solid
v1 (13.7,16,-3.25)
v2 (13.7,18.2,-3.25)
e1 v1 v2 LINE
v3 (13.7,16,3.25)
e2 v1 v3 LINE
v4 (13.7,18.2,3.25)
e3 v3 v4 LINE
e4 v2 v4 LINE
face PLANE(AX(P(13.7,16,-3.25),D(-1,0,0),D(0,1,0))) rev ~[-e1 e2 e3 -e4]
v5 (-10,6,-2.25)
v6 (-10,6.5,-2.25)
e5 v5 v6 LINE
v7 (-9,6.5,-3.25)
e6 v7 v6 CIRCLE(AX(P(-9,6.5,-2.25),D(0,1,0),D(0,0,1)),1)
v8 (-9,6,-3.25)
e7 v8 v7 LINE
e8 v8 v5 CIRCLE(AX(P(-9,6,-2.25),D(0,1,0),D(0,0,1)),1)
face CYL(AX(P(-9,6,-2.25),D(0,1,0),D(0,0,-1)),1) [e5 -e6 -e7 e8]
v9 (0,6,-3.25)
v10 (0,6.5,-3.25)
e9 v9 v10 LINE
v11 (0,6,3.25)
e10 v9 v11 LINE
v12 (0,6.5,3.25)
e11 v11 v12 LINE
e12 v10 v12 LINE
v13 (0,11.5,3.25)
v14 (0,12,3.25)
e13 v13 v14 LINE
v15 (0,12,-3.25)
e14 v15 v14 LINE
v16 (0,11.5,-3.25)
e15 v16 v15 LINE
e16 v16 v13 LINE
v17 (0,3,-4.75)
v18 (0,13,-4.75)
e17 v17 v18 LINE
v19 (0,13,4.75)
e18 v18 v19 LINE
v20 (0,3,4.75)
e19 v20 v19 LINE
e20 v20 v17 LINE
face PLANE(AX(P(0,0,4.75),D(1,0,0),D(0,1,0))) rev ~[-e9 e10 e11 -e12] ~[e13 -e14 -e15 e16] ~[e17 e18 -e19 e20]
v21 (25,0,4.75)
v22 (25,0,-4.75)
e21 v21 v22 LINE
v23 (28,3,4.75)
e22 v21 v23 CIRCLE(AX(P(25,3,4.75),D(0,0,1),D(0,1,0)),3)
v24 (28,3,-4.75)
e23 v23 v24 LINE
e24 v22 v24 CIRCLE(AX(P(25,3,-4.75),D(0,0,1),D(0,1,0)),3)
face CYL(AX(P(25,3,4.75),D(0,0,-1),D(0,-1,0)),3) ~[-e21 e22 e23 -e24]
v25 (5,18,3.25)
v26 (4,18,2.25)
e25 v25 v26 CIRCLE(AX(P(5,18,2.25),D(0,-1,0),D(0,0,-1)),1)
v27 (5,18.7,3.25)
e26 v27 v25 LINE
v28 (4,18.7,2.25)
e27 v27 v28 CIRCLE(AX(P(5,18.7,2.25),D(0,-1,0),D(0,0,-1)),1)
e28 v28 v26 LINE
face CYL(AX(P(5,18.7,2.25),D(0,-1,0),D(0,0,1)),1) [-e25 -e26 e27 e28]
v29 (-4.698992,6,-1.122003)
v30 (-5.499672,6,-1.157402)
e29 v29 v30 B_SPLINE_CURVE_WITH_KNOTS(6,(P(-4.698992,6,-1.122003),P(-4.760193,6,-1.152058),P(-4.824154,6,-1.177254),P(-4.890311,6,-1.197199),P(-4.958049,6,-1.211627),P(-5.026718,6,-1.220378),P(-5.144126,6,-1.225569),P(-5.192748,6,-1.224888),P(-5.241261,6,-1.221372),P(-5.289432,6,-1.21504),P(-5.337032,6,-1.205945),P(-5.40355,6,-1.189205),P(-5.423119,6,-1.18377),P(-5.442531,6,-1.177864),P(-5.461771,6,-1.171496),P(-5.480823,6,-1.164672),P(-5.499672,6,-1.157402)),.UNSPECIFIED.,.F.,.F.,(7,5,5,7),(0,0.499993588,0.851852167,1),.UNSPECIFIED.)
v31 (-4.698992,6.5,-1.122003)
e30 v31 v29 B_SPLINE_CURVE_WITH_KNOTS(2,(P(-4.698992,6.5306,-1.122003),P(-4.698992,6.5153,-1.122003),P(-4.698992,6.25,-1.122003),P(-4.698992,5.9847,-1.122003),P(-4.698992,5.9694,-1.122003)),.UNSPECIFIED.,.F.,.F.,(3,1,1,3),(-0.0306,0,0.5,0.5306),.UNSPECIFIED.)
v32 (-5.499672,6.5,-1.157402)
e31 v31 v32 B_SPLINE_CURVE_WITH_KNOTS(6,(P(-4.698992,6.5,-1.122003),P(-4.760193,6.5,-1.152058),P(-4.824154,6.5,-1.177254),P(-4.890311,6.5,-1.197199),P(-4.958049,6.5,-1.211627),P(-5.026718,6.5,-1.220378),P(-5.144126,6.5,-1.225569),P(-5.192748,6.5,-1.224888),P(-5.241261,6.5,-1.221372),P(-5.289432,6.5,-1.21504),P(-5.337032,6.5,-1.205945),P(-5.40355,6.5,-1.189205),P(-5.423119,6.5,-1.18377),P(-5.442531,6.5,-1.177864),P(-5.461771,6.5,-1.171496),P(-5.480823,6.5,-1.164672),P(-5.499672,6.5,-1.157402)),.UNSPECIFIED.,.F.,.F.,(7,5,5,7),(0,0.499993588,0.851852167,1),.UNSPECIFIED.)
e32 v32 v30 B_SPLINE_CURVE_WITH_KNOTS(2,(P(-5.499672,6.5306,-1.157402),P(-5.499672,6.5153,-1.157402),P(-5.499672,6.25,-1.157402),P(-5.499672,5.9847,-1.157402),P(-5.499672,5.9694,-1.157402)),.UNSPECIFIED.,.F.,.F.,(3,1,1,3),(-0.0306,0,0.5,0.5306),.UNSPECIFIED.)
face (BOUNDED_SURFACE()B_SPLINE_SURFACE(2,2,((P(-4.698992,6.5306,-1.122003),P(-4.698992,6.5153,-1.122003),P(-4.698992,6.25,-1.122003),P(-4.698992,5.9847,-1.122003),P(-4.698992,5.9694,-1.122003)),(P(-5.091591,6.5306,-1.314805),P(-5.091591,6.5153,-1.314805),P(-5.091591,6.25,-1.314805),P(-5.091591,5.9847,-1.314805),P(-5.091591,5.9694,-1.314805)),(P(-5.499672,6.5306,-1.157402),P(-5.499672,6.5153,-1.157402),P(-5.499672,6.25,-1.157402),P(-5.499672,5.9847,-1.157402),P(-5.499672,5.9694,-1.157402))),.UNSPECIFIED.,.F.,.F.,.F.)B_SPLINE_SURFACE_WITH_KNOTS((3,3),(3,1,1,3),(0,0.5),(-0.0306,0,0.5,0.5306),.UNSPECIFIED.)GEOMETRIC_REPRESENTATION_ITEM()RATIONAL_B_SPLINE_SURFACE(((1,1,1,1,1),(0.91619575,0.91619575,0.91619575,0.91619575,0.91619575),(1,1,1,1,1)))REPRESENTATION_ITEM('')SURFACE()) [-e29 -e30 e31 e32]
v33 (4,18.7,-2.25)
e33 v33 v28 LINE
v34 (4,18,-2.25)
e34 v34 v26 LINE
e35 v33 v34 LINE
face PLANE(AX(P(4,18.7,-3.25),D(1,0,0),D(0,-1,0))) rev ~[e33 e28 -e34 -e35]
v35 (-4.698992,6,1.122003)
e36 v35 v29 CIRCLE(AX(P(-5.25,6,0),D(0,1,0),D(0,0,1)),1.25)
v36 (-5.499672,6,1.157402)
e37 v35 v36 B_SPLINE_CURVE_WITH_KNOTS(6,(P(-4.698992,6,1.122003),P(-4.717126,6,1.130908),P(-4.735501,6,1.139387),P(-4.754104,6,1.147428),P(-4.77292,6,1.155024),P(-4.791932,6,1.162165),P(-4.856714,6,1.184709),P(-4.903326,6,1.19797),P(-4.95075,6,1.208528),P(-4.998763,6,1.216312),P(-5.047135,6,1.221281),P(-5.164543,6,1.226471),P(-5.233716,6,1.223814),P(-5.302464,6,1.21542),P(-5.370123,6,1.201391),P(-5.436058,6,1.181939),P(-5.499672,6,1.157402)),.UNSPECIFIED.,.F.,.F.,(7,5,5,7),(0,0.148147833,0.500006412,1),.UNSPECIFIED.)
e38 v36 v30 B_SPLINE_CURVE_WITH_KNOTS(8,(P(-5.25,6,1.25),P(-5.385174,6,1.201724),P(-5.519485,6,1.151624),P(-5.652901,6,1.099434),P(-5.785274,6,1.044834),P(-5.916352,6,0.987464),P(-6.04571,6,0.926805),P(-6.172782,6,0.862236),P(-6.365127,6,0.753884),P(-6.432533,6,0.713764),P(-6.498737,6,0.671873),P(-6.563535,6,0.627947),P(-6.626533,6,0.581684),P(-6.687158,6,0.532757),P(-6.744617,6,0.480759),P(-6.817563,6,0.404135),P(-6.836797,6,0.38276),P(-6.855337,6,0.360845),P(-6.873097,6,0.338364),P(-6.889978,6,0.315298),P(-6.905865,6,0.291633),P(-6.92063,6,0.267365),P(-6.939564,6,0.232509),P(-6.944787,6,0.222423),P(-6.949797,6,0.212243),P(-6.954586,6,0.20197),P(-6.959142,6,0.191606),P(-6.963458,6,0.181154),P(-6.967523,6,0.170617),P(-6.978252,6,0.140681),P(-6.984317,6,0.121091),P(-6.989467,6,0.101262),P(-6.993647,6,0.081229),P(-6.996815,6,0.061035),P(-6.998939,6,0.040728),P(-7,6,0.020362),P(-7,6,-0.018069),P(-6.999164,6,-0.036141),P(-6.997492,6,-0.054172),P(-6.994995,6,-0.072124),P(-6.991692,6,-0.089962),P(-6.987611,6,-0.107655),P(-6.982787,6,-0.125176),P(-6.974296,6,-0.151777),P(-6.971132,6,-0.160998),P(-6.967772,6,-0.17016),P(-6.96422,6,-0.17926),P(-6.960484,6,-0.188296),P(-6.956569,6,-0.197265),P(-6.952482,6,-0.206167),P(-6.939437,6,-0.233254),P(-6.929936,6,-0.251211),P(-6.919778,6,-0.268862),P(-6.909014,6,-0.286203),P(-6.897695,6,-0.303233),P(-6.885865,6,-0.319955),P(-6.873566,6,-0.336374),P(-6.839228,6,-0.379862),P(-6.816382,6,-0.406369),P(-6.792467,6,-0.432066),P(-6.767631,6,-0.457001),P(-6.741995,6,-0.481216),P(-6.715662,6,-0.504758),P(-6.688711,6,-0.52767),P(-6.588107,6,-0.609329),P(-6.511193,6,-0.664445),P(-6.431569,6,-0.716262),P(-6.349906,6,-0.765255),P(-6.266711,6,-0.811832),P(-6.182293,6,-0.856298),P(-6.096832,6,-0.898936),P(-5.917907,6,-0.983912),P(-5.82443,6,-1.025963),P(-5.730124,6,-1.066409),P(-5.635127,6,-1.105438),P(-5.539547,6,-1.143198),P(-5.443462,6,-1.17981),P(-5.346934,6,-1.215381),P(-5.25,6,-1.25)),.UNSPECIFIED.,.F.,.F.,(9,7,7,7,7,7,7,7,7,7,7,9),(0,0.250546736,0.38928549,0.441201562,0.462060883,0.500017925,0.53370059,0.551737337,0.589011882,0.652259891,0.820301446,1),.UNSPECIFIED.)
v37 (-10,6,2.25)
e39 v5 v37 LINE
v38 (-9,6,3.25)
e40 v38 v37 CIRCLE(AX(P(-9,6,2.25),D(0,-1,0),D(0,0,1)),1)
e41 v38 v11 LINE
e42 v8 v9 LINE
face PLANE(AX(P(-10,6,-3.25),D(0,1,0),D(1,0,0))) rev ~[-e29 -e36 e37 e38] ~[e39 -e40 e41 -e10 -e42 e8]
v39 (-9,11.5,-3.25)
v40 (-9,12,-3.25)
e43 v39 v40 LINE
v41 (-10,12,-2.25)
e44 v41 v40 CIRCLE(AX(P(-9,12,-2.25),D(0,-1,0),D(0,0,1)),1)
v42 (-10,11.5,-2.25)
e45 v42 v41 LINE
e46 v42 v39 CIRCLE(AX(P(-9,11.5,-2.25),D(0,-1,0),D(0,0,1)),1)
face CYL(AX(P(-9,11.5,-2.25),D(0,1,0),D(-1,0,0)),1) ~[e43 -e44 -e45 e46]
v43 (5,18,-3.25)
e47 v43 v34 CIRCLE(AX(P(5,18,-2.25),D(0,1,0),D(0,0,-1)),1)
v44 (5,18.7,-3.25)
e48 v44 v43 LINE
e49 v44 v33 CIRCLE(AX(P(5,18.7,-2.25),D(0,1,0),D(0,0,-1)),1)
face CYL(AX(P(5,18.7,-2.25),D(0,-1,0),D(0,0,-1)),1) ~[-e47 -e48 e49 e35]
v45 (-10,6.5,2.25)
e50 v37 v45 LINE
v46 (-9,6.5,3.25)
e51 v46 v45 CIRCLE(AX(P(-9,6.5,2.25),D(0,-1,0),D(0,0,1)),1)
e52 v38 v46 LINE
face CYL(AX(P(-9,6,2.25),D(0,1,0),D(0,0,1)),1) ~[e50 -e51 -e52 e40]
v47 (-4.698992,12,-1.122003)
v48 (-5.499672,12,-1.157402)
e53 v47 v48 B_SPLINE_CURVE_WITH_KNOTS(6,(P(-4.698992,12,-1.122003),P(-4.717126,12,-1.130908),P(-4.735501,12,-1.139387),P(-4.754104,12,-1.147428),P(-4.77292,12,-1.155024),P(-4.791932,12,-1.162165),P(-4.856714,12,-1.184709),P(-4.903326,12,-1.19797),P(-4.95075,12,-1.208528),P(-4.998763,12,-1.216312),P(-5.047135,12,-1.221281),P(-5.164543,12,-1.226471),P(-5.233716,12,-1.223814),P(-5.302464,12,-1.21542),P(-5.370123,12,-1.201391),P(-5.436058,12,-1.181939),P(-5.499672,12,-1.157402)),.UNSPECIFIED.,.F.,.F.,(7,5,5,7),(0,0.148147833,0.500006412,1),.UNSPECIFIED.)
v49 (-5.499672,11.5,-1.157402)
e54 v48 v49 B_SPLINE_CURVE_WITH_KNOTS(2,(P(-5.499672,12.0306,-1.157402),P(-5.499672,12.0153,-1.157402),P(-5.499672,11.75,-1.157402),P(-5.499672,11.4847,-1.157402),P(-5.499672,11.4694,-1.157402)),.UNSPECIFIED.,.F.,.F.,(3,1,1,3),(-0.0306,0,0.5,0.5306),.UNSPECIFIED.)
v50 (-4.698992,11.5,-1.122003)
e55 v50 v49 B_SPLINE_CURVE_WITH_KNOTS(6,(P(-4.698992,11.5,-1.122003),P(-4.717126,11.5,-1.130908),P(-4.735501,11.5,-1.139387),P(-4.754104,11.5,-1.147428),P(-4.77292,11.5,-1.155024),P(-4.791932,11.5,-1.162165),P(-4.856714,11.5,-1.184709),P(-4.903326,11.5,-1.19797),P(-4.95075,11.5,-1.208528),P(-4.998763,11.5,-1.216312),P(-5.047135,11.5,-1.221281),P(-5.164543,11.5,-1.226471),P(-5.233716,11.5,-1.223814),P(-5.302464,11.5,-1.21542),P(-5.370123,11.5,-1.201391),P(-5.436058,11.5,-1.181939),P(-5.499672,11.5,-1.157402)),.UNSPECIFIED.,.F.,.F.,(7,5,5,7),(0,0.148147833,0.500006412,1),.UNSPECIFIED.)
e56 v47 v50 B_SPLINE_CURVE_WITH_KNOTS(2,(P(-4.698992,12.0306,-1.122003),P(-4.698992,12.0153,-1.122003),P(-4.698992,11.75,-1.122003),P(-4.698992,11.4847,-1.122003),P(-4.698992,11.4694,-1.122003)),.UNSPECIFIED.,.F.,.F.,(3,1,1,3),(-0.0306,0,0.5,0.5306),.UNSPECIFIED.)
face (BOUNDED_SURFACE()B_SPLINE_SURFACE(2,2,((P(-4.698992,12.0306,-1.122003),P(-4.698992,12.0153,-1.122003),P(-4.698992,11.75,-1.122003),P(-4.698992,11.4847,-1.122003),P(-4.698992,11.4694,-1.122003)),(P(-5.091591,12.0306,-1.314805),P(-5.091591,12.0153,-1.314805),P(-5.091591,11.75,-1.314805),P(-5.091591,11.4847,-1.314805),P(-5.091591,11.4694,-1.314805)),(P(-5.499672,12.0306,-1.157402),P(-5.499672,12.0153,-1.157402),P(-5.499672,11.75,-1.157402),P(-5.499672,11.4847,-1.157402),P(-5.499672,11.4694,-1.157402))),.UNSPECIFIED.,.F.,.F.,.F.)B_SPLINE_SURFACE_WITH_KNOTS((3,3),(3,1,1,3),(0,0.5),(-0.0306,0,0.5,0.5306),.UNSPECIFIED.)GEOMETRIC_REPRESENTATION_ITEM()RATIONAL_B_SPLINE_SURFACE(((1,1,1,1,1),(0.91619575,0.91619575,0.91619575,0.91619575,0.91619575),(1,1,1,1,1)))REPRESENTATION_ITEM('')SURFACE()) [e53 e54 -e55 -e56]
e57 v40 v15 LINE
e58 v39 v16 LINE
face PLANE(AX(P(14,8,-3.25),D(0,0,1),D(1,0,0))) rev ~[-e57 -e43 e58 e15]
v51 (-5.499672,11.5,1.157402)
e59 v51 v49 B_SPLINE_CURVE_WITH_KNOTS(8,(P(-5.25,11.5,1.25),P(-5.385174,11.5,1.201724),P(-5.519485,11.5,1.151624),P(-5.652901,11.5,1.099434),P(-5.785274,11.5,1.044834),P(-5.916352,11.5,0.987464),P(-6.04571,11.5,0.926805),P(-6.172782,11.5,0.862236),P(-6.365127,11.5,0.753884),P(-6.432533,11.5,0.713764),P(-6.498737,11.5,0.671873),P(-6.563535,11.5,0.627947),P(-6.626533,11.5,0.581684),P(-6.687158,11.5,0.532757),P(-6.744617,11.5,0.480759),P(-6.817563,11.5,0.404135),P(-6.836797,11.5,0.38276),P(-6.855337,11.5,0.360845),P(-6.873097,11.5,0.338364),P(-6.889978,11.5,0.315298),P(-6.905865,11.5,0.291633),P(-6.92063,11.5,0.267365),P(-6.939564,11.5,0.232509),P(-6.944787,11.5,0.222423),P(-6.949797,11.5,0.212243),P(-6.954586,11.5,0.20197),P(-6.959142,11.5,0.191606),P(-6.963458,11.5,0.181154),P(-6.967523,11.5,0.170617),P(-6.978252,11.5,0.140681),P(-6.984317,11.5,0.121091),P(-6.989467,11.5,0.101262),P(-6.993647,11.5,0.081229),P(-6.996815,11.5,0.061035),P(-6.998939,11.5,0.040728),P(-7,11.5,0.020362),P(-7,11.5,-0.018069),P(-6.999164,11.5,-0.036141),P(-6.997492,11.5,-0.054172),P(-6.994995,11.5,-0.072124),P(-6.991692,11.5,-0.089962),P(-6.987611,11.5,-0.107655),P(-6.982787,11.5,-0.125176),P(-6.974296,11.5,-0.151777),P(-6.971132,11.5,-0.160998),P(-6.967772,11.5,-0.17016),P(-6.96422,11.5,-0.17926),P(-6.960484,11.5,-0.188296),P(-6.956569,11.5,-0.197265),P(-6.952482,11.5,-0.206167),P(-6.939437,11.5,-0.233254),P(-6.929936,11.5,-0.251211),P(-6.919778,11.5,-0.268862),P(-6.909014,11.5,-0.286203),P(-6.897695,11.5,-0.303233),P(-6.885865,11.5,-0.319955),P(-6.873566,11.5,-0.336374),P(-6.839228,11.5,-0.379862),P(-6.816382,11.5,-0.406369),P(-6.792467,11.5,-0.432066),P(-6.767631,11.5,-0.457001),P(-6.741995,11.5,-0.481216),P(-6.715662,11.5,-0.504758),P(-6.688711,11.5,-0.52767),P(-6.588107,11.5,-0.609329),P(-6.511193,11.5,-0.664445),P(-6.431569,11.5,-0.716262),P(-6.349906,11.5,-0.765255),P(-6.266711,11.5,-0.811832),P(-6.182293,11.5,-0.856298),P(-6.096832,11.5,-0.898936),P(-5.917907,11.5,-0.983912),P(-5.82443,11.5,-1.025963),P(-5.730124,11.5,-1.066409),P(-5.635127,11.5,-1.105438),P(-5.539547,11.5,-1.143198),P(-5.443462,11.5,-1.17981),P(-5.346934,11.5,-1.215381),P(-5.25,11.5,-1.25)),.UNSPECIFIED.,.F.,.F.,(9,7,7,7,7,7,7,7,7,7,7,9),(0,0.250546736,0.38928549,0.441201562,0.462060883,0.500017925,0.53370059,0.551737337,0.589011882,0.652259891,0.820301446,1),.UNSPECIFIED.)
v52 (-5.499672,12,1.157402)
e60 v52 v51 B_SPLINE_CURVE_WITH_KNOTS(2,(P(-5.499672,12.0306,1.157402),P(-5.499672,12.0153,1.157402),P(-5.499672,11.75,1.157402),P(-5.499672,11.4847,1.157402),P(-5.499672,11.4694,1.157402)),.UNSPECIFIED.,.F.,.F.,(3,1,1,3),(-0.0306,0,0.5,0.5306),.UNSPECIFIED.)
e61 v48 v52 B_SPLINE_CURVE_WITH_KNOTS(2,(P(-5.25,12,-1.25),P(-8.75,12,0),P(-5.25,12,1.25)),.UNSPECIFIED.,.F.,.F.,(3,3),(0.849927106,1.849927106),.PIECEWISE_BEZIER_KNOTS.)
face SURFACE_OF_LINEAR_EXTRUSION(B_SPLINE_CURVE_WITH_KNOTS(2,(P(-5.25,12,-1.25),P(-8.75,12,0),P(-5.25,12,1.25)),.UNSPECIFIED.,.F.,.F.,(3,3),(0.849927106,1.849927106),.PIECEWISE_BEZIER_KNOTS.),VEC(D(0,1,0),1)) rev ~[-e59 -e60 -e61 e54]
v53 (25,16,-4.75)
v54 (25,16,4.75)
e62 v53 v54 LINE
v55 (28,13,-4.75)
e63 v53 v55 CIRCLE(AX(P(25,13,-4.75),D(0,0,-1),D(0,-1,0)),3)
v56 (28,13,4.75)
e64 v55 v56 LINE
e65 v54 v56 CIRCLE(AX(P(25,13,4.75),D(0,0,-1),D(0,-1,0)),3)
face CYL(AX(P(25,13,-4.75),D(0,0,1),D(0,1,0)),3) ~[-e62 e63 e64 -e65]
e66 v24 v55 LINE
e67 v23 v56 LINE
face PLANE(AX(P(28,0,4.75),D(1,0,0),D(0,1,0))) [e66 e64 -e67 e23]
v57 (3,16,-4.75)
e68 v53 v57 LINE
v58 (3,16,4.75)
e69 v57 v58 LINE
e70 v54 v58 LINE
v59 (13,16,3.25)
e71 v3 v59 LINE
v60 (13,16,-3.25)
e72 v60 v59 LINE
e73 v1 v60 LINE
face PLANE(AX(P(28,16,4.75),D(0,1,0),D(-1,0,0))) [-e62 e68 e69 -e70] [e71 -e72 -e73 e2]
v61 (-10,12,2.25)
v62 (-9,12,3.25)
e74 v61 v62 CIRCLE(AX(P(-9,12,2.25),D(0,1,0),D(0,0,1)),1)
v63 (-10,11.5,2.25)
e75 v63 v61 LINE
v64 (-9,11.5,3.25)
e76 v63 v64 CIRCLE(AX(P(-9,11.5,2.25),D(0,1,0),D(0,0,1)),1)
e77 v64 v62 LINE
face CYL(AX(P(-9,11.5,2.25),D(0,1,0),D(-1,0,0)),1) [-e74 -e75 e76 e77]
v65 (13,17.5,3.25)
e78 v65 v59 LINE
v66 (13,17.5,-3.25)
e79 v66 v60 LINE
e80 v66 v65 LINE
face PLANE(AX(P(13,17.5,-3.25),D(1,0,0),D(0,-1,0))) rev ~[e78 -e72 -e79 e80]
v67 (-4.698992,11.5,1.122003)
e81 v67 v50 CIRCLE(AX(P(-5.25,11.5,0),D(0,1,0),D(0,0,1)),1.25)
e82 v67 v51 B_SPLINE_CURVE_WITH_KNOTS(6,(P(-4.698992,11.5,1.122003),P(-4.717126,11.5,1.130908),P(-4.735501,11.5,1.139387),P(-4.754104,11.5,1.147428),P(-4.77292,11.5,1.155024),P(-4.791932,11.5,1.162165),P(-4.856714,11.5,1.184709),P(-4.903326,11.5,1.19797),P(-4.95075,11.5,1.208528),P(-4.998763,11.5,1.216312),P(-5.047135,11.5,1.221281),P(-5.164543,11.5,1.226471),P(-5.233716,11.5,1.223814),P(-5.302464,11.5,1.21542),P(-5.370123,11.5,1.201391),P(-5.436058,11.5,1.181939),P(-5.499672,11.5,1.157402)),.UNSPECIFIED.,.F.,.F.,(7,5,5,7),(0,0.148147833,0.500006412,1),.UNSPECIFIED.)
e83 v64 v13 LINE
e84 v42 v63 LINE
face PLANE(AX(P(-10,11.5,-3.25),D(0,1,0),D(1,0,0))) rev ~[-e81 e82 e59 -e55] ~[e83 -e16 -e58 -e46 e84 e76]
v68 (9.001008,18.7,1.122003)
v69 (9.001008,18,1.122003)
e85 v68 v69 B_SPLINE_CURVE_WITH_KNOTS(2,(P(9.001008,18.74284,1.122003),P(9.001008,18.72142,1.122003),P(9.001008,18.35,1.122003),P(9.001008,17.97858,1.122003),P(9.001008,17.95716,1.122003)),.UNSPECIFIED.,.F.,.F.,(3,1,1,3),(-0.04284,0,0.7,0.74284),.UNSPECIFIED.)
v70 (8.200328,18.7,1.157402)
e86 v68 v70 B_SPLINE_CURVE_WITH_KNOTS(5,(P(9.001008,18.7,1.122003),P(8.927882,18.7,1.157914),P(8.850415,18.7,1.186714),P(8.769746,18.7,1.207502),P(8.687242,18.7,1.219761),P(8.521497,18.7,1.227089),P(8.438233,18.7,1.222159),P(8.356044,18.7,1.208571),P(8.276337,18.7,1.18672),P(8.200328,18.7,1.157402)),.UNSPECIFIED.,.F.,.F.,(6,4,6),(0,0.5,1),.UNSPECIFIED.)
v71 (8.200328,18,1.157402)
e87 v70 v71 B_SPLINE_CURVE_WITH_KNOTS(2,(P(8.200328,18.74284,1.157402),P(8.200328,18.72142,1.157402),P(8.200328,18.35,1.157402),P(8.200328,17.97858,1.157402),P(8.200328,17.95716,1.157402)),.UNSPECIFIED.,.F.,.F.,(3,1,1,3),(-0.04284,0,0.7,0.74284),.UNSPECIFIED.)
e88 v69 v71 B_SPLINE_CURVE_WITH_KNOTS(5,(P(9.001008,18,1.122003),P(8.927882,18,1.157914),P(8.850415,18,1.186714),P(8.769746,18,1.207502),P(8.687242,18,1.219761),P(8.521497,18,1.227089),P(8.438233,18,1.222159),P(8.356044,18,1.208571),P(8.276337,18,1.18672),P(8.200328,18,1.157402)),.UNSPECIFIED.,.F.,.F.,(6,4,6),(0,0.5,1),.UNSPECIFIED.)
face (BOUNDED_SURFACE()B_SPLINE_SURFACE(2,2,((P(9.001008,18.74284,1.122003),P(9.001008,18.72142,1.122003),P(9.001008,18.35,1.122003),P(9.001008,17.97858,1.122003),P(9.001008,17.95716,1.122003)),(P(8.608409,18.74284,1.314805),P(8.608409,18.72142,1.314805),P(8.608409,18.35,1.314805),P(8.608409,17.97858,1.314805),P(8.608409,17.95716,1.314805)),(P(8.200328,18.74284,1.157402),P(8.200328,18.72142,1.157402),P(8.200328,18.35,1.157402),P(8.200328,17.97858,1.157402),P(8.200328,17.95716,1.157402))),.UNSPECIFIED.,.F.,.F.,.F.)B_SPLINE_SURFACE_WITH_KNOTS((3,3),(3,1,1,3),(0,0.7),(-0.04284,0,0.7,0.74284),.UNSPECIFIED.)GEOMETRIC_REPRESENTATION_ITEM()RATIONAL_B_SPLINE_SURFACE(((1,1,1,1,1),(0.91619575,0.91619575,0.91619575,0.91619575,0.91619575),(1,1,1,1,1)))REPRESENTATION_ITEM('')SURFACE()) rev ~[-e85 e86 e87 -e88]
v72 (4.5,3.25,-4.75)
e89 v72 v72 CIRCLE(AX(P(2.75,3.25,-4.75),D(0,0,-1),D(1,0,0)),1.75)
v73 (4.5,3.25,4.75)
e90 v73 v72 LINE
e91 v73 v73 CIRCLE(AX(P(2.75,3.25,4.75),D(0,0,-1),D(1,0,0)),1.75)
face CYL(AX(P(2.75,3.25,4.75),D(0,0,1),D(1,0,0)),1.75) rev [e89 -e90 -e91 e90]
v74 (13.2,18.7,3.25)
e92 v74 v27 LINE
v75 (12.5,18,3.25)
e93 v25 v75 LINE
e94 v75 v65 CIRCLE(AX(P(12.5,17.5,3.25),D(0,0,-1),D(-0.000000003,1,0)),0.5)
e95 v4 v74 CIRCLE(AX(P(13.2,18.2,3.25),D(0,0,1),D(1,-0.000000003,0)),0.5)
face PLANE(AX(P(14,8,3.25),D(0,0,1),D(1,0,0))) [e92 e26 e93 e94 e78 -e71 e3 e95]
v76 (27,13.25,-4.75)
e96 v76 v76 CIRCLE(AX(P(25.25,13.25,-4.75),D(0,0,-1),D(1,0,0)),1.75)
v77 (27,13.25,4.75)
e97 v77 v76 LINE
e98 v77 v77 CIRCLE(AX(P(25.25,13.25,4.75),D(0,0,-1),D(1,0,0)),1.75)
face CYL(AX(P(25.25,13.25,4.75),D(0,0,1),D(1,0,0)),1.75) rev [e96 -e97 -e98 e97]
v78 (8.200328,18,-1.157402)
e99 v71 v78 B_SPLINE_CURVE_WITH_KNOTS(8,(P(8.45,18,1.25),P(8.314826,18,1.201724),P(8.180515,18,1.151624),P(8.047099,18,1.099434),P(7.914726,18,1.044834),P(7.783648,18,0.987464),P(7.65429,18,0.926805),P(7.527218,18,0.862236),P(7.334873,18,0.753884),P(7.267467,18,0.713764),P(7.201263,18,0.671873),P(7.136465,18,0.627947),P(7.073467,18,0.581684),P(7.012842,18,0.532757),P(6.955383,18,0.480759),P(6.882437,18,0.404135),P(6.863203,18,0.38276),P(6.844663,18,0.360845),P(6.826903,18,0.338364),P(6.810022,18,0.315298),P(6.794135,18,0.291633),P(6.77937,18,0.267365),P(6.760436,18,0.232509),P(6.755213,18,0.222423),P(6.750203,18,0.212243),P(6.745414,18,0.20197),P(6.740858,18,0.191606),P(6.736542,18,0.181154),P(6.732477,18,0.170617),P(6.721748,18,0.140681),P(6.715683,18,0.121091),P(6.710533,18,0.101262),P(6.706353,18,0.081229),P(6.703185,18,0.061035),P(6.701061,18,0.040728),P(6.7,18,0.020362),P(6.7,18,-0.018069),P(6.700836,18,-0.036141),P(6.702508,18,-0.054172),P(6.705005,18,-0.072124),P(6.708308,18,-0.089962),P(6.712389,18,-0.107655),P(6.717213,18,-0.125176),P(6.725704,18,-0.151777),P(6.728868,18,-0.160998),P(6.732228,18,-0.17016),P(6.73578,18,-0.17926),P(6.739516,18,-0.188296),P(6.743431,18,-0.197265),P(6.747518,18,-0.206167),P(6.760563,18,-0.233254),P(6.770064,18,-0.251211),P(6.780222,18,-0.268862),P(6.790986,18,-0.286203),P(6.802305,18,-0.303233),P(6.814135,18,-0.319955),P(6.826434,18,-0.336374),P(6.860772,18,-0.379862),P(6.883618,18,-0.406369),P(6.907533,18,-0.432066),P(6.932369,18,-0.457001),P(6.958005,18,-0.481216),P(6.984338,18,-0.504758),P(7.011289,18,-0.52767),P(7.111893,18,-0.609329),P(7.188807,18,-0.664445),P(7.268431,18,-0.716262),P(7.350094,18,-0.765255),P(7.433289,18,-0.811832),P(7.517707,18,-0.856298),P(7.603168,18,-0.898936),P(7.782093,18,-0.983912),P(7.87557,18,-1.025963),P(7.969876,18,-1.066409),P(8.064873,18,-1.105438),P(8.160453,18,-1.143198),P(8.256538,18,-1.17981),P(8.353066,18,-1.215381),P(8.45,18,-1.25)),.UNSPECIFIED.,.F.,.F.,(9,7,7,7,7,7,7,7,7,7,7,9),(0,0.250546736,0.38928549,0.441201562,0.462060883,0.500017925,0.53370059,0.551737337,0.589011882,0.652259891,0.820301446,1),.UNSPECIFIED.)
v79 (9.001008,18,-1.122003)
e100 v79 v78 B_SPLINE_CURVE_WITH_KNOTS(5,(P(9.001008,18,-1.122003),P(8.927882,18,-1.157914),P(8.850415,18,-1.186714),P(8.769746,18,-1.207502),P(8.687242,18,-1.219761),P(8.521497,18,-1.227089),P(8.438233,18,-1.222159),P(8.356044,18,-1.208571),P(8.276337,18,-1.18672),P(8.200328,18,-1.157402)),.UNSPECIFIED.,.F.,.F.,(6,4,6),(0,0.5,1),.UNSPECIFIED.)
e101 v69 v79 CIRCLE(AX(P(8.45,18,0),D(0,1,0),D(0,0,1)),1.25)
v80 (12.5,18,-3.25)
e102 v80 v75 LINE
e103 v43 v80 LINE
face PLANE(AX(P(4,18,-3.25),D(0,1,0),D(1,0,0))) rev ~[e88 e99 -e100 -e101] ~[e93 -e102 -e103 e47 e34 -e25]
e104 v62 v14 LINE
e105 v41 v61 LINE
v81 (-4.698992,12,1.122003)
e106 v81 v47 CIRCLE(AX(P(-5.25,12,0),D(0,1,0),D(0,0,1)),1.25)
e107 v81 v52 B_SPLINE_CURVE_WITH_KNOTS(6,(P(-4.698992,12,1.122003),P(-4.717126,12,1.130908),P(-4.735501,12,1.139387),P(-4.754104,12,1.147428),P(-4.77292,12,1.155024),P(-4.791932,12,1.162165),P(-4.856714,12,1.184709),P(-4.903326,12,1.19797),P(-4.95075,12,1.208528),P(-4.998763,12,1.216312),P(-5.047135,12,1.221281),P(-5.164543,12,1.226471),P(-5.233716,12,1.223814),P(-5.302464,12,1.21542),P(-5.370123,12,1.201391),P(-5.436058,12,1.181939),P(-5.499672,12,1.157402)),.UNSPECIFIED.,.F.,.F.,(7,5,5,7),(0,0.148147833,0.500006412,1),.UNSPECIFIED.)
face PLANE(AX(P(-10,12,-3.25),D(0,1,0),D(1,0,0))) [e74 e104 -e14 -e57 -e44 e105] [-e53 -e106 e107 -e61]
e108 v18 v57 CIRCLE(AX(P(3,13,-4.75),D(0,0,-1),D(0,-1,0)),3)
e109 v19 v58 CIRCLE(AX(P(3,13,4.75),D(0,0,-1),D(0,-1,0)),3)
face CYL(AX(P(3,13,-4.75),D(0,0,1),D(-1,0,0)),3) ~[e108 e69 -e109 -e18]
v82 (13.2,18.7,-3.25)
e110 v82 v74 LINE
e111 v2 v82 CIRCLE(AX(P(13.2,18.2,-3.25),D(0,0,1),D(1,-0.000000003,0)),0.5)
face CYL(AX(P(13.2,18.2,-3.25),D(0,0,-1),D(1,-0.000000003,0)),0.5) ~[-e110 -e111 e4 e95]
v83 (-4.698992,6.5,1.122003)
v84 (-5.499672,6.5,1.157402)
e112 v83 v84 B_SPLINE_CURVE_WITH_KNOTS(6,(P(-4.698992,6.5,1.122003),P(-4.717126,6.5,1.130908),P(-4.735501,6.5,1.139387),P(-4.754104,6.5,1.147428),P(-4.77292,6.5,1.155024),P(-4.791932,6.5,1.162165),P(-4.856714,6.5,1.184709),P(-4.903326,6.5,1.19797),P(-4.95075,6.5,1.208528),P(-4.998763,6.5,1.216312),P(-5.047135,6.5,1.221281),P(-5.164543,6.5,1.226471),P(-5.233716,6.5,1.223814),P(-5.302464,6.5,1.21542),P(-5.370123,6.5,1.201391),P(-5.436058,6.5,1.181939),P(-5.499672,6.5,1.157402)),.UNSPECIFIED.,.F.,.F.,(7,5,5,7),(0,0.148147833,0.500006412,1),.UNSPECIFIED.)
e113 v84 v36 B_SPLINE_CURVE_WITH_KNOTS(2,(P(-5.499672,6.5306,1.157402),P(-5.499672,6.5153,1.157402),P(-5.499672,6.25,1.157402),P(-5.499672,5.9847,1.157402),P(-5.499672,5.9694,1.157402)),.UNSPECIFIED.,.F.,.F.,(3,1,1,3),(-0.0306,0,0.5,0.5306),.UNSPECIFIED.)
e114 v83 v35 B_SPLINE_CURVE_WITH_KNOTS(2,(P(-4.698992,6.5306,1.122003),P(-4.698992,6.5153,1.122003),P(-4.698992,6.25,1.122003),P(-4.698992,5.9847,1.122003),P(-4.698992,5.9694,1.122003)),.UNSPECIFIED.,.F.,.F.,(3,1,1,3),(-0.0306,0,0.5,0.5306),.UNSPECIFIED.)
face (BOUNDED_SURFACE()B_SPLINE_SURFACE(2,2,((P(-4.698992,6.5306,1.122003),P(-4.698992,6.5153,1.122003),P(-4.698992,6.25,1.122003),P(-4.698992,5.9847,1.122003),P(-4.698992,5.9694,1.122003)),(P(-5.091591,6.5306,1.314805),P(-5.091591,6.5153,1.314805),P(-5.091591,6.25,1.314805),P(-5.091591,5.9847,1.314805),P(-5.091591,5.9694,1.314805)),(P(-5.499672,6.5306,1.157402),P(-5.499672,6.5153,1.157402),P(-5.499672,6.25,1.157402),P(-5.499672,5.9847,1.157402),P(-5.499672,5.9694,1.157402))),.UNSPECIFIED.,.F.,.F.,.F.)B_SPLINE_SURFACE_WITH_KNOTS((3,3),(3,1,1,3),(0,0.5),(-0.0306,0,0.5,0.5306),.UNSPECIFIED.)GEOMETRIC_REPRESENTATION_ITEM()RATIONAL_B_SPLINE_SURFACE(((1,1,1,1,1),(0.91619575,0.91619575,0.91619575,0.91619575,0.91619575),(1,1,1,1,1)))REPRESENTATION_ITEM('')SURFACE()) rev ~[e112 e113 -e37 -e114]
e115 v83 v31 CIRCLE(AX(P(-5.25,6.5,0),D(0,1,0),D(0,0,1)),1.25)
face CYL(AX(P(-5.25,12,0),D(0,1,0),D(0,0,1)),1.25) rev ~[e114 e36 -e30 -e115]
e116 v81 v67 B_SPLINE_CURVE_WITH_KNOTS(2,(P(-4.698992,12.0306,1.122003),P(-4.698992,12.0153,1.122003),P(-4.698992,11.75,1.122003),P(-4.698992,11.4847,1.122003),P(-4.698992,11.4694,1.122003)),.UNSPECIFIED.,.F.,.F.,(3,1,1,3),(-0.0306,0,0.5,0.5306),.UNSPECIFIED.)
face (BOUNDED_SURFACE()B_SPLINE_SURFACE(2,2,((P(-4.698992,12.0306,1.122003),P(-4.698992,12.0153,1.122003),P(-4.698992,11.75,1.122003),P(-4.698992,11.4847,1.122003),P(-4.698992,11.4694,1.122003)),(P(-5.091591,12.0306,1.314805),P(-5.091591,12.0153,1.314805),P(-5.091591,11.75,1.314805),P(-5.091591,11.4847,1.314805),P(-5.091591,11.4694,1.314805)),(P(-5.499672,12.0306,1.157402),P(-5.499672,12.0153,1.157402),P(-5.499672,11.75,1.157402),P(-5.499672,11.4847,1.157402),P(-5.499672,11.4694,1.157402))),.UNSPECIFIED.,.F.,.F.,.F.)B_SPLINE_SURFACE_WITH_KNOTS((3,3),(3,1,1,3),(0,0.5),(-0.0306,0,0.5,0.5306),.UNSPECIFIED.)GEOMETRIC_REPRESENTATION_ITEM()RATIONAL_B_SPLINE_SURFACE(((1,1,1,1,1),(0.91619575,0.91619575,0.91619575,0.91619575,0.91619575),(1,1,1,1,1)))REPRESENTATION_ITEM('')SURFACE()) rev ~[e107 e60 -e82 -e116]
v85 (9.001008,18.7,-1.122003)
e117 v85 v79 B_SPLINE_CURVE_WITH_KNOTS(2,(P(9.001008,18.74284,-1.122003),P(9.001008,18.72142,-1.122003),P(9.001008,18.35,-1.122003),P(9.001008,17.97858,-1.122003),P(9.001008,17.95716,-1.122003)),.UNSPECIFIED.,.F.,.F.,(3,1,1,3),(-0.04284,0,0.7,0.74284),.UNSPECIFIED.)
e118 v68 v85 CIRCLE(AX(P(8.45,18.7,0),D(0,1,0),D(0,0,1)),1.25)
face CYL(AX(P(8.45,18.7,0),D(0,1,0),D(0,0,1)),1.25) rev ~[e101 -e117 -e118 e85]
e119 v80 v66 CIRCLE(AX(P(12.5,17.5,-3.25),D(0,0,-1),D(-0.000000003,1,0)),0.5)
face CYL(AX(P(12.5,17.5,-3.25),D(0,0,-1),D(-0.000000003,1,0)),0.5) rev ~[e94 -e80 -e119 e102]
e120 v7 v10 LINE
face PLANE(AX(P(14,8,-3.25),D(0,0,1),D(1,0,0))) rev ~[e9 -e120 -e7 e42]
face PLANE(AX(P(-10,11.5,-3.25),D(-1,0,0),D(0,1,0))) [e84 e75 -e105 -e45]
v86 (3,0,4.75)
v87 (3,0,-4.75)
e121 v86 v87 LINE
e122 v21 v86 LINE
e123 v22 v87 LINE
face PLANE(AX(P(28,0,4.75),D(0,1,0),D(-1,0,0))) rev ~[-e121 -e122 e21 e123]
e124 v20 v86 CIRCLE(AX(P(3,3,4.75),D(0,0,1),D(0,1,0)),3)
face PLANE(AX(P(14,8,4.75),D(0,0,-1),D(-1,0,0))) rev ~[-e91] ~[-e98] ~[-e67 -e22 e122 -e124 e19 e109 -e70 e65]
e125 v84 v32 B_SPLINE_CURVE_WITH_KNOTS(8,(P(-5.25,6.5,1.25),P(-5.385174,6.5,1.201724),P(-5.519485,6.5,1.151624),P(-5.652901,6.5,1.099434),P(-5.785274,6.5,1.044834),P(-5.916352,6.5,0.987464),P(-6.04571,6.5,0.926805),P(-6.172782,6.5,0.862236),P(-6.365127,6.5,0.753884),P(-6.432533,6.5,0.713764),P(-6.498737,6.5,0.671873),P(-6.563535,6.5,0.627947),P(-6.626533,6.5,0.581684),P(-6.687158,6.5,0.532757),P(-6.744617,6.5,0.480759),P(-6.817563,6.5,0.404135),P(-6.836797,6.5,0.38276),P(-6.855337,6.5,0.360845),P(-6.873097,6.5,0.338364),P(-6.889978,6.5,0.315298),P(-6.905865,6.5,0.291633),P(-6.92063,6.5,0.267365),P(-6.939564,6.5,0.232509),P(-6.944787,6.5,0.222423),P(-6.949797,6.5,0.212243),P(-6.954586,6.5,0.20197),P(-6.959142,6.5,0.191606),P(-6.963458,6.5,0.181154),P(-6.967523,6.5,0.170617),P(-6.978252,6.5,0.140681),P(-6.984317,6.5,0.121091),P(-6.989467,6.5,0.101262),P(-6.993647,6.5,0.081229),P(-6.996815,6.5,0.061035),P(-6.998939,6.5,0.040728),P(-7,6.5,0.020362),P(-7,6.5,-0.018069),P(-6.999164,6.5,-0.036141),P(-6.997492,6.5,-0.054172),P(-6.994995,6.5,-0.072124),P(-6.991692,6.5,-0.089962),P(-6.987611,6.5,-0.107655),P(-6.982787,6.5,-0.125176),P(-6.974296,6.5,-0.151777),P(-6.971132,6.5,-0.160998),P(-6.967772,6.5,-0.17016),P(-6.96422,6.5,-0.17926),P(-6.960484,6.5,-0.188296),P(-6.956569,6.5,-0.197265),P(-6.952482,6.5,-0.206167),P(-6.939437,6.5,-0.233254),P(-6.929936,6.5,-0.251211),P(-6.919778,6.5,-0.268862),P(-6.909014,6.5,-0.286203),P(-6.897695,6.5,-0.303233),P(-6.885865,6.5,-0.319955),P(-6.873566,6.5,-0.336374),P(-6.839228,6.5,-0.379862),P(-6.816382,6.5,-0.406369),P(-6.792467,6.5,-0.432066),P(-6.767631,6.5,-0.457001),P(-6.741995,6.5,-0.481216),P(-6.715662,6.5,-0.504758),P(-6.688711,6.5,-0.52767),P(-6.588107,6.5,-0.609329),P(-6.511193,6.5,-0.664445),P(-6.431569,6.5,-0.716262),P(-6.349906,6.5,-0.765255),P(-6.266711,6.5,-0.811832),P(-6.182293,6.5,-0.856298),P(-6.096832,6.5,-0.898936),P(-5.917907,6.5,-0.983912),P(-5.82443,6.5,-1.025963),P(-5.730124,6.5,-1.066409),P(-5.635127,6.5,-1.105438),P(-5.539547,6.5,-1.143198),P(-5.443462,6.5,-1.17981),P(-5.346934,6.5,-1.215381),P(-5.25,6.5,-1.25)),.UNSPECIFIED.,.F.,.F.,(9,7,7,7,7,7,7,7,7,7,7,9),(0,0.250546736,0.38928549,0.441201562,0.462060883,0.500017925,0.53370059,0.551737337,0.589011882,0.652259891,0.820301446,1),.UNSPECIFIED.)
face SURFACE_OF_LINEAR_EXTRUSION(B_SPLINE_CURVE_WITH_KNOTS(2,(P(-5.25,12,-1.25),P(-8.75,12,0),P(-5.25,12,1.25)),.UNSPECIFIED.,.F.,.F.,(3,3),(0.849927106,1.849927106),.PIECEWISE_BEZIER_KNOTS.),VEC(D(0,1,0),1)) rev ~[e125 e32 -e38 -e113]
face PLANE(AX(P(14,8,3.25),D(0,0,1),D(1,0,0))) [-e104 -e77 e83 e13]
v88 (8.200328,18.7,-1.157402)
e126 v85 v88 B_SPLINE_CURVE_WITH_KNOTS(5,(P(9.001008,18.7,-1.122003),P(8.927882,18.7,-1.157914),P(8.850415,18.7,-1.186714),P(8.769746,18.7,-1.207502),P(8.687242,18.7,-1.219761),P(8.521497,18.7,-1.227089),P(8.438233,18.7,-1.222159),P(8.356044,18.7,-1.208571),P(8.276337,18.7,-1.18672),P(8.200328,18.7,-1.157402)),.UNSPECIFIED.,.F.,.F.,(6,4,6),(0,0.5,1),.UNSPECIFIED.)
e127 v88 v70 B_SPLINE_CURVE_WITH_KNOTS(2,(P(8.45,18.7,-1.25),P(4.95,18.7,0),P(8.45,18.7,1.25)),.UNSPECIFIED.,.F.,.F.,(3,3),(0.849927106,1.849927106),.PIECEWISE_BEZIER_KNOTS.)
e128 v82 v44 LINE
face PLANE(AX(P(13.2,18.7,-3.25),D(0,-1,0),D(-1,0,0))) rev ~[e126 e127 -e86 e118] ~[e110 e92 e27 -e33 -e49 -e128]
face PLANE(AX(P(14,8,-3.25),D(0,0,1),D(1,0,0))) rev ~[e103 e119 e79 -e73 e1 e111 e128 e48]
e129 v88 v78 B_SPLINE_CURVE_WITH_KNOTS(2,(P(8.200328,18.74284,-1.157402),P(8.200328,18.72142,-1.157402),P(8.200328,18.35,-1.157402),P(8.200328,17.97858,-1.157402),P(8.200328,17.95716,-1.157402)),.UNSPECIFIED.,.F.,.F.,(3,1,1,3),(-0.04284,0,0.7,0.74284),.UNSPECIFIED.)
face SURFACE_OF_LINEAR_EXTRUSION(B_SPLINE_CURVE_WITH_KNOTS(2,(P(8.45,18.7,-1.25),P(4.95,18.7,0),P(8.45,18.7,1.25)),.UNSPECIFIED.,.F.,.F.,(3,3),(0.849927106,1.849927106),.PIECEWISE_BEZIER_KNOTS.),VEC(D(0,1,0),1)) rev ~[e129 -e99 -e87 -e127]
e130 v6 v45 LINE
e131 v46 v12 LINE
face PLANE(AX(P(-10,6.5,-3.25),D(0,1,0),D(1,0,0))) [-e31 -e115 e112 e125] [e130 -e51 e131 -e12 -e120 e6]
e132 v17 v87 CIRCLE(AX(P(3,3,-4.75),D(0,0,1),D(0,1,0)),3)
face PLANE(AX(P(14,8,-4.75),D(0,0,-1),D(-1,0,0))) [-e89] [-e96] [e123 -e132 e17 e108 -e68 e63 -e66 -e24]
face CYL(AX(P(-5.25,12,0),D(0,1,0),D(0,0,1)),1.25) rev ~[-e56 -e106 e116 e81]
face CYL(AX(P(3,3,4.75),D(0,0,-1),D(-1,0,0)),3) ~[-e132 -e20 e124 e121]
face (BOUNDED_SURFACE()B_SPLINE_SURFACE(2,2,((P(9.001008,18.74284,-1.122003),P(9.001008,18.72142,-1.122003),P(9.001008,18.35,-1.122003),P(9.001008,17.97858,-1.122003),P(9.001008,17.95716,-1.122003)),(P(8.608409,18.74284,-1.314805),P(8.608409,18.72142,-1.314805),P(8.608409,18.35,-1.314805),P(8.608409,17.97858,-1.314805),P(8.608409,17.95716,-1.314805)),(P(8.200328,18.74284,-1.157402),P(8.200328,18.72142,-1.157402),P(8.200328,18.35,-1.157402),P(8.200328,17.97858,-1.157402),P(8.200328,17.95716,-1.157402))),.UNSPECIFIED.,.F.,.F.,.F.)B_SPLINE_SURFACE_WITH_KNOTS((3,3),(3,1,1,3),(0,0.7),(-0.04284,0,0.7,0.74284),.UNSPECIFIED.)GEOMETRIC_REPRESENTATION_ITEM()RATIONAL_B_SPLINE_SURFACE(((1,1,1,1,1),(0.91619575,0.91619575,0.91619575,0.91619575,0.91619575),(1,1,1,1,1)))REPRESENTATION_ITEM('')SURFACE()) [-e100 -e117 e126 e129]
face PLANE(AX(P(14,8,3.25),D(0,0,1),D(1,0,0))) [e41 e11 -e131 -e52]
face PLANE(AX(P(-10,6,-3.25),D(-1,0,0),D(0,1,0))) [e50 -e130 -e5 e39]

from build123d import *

# Parameters (mm, degrees)
BOSS_EXTRUDE1_DEPTH      = 3.25
BOSS_EXTRUDE1_DEPTH_BACK = 3.25
SKETCH1_W                = 10
SKETCH1_H                = 0.5
SKETCH1_W_2              = 28
SKETCH1_H_2              = 16
SKETCH1_R                = 1.75
BOSS_EXTRUDE2_DEPTH      = 1.5
BOSS_EXTRUDE2_DEPTH_BACK = 8
SKETCH2_W                = 28
SKETCH2_H                = 16
SKETCH2_R                = 1.75
CUT_EXTRUDE1_DEPTH       = 9.5
CUT_EXTRUDE2_DEPTH       = 1.5
FILLET1_R                = 1
FILLET2_R                = 1
FILLET3_R                = 3


with BuildPart() as part:
    # Sketch1 → Boss-Extrude1 (new, two sides: drawn at the far end of the back side and taken through both)
    # profile 1 of 4: a face of its own
    with BuildSketch(Plane.XY.offset(-BOSS_EXTRUDE1_DEPTH_BACK)):
        with Locations((-5, 6.25)):
            Rectangle(SKETCH1_W, SKETCH1_H)
    # profile 2 of 4: a face of its own
    with BuildSketch(Plane.XY.offset(-BOSS_EXTRUDE1_DEPTH_BACK)):
        with Locations((-5, 11.75)):
            Rectangle(SKETCH1_W, SKETCH1_H)
    # profile 3 of 4: a face of its own
    with BuildSketch(Plane.XY.offset(-BOSS_EXTRUDE1_DEPTH_BACK)):
        with Locations((14, 8)):
            Rectangle(SKETCH1_W_2, SKETCH1_H_2)
        with Locations((2.75, 3.25)):
            Circle(SKETCH1_R, mode=Mode.SUBTRACT)
        with Locations((25.25, 13.25)):
            Circle(SKETCH1_R, mode=Mode.SUBTRACT)
    # profile 4 of 4: a face of its own
    with BuildSketch(Plane.XY.offset(-BOSS_EXTRUDE1_DEPTH_BACK)):
        with BuildLine():
            Line((13, 16), (13.7, 16))
            Line((13.7, 16), (13.7, 18.2))
            ThreePointArc((13.7, 18.2), (13.553553391, 18.553553391), (13.2, 18.7))
            Line((13.2, 18.7), (4, 18.7))
            Line((4, 18.7), (4, 18))
            Line((4, 18), (12.5, 18))
            ThreePointArc((12.5, 18), (12.853553391, 17.853553391), (13, 17.5))
            Line((13, 17.5), (13, 16))
        make_face()
    extrude(amount=BOSS_EXTRUDE1_DEPTH + BOSS_EXTRUDE1_DEPTH_BACK)

    # Sketch2 → Boss-Extrude2 (add, two sides: drawn at the far end of the back side and taken through both)
    with BuildSketch(Plane(origin=(0, 0, -3.25), x_dir=(-1, 0, 0), z_dir=(0, 0, -1)).offset(-BOSS_EXTRUDE2_DEPTH_BACK)):
        with Locations((-14, 8)):
            Rectangle(SKETCH2_W, SKETCH2_H)
        with Locations(Location((-25.25, 13.25, 0), (0, 0, 180))):
            Circle(SKETCH2_R, mode=Mode.SUBTRACT)
        with Locations(Location((-2.75, 3.25, 0), (0, 0, 180))):
            Circle(SKETCH2_R, mode=Mode.SUBTRACT)
    extrude(amount=BOSS_EXTRUDE2_DEPTH + BOSS_EXTRUDE2_DEPTH_BACK)

    # Sketch3 → Cut-Extrude1 (cut)
    with BuildSketch(Plane(origin=(0, 12, 0), x_dir=(1, 0, 0), z_dir=(0, 1, 0))):
        with BuildLine():
            ThreePointArc((-5.25, -1.25), (-4, 0), (-5.25, 1.25))
            add(Edge.make_bspline(
                [(-5.25, 1.25), (-8.75, 0), (-5.25, -1.25)],
                knots=[0.849927106, 0.849927106, 0.849927106, 1.849927106, 1.849927106, 1.849927106], degree=2))
        make_face()
    extrude(amount=-CUT_EXTRUDE1_DEPTH, mode=Mode.SUBTRACT)

    # Sketch4 → Cut-Extrude2 (cut)
    with BuildSketch(Plane(origin=(0, 18.7, 0), x_dir=(1, 0, 0), z_dir=(0, 1, 0))):
        with BuildLine():
            ThreePointArc((8.45, -1.25), (9.7, 0), (8.45, 1.25))
            add(Edge.make_bspline(
                [(8.45, 1.25), (4.95, 0), (8.45, -1.25)],
                knots=[0.849927106, 0.849927106, 0.849927106, 1.849927106, 1.849927106, 1.849927106], degree=2))
        make_face()
    extrude(amount=-CUT_EXTRUDE2_DEPTH, mode=Mode.SUBTRACT)

    # Fillet1
    fillet1_edges = [part.edges().sort_by_distance(p)[0] for p in [
        (-5.25, 6.25, 1.25),
        (-5.25, 6.25, -1.25),
        (-5.25, 11.75, 1.25),
        (-5.25, 11.75, -1.25),
        (8.45, 18.35, -1.25),
        (8.45, 18.35, 1.25),
    ]]
    fillet(fillet1_edges, radius=FILLET1_R)

    # Fillet2
    fillet2_edges = [part.edges().sort_by_distance(p)[0] for p in [
        (-10, 6.25, -3.25),
        (4, 18.35, -3.25),
        (-10, 6.25, 3.25),
        (-10, 11.75, 3.25),
        (4, 18.35, 3.25),
        (-10, 11.75, -3.25),
    ]]
    fillet(fillet2_edges, radius=FILLET2_R)

    # Fillet3
    fillet3_edges = [part.edges().sort_by_distance(p)[0] for p in [
        (0, 16, 0),
        (28, 16, 0),
        (28, 0, 0),
        (0, 0, 0),
    ]]
    fillet(fillet3_edges, radius=FILLET3_R)


solid = part.part
